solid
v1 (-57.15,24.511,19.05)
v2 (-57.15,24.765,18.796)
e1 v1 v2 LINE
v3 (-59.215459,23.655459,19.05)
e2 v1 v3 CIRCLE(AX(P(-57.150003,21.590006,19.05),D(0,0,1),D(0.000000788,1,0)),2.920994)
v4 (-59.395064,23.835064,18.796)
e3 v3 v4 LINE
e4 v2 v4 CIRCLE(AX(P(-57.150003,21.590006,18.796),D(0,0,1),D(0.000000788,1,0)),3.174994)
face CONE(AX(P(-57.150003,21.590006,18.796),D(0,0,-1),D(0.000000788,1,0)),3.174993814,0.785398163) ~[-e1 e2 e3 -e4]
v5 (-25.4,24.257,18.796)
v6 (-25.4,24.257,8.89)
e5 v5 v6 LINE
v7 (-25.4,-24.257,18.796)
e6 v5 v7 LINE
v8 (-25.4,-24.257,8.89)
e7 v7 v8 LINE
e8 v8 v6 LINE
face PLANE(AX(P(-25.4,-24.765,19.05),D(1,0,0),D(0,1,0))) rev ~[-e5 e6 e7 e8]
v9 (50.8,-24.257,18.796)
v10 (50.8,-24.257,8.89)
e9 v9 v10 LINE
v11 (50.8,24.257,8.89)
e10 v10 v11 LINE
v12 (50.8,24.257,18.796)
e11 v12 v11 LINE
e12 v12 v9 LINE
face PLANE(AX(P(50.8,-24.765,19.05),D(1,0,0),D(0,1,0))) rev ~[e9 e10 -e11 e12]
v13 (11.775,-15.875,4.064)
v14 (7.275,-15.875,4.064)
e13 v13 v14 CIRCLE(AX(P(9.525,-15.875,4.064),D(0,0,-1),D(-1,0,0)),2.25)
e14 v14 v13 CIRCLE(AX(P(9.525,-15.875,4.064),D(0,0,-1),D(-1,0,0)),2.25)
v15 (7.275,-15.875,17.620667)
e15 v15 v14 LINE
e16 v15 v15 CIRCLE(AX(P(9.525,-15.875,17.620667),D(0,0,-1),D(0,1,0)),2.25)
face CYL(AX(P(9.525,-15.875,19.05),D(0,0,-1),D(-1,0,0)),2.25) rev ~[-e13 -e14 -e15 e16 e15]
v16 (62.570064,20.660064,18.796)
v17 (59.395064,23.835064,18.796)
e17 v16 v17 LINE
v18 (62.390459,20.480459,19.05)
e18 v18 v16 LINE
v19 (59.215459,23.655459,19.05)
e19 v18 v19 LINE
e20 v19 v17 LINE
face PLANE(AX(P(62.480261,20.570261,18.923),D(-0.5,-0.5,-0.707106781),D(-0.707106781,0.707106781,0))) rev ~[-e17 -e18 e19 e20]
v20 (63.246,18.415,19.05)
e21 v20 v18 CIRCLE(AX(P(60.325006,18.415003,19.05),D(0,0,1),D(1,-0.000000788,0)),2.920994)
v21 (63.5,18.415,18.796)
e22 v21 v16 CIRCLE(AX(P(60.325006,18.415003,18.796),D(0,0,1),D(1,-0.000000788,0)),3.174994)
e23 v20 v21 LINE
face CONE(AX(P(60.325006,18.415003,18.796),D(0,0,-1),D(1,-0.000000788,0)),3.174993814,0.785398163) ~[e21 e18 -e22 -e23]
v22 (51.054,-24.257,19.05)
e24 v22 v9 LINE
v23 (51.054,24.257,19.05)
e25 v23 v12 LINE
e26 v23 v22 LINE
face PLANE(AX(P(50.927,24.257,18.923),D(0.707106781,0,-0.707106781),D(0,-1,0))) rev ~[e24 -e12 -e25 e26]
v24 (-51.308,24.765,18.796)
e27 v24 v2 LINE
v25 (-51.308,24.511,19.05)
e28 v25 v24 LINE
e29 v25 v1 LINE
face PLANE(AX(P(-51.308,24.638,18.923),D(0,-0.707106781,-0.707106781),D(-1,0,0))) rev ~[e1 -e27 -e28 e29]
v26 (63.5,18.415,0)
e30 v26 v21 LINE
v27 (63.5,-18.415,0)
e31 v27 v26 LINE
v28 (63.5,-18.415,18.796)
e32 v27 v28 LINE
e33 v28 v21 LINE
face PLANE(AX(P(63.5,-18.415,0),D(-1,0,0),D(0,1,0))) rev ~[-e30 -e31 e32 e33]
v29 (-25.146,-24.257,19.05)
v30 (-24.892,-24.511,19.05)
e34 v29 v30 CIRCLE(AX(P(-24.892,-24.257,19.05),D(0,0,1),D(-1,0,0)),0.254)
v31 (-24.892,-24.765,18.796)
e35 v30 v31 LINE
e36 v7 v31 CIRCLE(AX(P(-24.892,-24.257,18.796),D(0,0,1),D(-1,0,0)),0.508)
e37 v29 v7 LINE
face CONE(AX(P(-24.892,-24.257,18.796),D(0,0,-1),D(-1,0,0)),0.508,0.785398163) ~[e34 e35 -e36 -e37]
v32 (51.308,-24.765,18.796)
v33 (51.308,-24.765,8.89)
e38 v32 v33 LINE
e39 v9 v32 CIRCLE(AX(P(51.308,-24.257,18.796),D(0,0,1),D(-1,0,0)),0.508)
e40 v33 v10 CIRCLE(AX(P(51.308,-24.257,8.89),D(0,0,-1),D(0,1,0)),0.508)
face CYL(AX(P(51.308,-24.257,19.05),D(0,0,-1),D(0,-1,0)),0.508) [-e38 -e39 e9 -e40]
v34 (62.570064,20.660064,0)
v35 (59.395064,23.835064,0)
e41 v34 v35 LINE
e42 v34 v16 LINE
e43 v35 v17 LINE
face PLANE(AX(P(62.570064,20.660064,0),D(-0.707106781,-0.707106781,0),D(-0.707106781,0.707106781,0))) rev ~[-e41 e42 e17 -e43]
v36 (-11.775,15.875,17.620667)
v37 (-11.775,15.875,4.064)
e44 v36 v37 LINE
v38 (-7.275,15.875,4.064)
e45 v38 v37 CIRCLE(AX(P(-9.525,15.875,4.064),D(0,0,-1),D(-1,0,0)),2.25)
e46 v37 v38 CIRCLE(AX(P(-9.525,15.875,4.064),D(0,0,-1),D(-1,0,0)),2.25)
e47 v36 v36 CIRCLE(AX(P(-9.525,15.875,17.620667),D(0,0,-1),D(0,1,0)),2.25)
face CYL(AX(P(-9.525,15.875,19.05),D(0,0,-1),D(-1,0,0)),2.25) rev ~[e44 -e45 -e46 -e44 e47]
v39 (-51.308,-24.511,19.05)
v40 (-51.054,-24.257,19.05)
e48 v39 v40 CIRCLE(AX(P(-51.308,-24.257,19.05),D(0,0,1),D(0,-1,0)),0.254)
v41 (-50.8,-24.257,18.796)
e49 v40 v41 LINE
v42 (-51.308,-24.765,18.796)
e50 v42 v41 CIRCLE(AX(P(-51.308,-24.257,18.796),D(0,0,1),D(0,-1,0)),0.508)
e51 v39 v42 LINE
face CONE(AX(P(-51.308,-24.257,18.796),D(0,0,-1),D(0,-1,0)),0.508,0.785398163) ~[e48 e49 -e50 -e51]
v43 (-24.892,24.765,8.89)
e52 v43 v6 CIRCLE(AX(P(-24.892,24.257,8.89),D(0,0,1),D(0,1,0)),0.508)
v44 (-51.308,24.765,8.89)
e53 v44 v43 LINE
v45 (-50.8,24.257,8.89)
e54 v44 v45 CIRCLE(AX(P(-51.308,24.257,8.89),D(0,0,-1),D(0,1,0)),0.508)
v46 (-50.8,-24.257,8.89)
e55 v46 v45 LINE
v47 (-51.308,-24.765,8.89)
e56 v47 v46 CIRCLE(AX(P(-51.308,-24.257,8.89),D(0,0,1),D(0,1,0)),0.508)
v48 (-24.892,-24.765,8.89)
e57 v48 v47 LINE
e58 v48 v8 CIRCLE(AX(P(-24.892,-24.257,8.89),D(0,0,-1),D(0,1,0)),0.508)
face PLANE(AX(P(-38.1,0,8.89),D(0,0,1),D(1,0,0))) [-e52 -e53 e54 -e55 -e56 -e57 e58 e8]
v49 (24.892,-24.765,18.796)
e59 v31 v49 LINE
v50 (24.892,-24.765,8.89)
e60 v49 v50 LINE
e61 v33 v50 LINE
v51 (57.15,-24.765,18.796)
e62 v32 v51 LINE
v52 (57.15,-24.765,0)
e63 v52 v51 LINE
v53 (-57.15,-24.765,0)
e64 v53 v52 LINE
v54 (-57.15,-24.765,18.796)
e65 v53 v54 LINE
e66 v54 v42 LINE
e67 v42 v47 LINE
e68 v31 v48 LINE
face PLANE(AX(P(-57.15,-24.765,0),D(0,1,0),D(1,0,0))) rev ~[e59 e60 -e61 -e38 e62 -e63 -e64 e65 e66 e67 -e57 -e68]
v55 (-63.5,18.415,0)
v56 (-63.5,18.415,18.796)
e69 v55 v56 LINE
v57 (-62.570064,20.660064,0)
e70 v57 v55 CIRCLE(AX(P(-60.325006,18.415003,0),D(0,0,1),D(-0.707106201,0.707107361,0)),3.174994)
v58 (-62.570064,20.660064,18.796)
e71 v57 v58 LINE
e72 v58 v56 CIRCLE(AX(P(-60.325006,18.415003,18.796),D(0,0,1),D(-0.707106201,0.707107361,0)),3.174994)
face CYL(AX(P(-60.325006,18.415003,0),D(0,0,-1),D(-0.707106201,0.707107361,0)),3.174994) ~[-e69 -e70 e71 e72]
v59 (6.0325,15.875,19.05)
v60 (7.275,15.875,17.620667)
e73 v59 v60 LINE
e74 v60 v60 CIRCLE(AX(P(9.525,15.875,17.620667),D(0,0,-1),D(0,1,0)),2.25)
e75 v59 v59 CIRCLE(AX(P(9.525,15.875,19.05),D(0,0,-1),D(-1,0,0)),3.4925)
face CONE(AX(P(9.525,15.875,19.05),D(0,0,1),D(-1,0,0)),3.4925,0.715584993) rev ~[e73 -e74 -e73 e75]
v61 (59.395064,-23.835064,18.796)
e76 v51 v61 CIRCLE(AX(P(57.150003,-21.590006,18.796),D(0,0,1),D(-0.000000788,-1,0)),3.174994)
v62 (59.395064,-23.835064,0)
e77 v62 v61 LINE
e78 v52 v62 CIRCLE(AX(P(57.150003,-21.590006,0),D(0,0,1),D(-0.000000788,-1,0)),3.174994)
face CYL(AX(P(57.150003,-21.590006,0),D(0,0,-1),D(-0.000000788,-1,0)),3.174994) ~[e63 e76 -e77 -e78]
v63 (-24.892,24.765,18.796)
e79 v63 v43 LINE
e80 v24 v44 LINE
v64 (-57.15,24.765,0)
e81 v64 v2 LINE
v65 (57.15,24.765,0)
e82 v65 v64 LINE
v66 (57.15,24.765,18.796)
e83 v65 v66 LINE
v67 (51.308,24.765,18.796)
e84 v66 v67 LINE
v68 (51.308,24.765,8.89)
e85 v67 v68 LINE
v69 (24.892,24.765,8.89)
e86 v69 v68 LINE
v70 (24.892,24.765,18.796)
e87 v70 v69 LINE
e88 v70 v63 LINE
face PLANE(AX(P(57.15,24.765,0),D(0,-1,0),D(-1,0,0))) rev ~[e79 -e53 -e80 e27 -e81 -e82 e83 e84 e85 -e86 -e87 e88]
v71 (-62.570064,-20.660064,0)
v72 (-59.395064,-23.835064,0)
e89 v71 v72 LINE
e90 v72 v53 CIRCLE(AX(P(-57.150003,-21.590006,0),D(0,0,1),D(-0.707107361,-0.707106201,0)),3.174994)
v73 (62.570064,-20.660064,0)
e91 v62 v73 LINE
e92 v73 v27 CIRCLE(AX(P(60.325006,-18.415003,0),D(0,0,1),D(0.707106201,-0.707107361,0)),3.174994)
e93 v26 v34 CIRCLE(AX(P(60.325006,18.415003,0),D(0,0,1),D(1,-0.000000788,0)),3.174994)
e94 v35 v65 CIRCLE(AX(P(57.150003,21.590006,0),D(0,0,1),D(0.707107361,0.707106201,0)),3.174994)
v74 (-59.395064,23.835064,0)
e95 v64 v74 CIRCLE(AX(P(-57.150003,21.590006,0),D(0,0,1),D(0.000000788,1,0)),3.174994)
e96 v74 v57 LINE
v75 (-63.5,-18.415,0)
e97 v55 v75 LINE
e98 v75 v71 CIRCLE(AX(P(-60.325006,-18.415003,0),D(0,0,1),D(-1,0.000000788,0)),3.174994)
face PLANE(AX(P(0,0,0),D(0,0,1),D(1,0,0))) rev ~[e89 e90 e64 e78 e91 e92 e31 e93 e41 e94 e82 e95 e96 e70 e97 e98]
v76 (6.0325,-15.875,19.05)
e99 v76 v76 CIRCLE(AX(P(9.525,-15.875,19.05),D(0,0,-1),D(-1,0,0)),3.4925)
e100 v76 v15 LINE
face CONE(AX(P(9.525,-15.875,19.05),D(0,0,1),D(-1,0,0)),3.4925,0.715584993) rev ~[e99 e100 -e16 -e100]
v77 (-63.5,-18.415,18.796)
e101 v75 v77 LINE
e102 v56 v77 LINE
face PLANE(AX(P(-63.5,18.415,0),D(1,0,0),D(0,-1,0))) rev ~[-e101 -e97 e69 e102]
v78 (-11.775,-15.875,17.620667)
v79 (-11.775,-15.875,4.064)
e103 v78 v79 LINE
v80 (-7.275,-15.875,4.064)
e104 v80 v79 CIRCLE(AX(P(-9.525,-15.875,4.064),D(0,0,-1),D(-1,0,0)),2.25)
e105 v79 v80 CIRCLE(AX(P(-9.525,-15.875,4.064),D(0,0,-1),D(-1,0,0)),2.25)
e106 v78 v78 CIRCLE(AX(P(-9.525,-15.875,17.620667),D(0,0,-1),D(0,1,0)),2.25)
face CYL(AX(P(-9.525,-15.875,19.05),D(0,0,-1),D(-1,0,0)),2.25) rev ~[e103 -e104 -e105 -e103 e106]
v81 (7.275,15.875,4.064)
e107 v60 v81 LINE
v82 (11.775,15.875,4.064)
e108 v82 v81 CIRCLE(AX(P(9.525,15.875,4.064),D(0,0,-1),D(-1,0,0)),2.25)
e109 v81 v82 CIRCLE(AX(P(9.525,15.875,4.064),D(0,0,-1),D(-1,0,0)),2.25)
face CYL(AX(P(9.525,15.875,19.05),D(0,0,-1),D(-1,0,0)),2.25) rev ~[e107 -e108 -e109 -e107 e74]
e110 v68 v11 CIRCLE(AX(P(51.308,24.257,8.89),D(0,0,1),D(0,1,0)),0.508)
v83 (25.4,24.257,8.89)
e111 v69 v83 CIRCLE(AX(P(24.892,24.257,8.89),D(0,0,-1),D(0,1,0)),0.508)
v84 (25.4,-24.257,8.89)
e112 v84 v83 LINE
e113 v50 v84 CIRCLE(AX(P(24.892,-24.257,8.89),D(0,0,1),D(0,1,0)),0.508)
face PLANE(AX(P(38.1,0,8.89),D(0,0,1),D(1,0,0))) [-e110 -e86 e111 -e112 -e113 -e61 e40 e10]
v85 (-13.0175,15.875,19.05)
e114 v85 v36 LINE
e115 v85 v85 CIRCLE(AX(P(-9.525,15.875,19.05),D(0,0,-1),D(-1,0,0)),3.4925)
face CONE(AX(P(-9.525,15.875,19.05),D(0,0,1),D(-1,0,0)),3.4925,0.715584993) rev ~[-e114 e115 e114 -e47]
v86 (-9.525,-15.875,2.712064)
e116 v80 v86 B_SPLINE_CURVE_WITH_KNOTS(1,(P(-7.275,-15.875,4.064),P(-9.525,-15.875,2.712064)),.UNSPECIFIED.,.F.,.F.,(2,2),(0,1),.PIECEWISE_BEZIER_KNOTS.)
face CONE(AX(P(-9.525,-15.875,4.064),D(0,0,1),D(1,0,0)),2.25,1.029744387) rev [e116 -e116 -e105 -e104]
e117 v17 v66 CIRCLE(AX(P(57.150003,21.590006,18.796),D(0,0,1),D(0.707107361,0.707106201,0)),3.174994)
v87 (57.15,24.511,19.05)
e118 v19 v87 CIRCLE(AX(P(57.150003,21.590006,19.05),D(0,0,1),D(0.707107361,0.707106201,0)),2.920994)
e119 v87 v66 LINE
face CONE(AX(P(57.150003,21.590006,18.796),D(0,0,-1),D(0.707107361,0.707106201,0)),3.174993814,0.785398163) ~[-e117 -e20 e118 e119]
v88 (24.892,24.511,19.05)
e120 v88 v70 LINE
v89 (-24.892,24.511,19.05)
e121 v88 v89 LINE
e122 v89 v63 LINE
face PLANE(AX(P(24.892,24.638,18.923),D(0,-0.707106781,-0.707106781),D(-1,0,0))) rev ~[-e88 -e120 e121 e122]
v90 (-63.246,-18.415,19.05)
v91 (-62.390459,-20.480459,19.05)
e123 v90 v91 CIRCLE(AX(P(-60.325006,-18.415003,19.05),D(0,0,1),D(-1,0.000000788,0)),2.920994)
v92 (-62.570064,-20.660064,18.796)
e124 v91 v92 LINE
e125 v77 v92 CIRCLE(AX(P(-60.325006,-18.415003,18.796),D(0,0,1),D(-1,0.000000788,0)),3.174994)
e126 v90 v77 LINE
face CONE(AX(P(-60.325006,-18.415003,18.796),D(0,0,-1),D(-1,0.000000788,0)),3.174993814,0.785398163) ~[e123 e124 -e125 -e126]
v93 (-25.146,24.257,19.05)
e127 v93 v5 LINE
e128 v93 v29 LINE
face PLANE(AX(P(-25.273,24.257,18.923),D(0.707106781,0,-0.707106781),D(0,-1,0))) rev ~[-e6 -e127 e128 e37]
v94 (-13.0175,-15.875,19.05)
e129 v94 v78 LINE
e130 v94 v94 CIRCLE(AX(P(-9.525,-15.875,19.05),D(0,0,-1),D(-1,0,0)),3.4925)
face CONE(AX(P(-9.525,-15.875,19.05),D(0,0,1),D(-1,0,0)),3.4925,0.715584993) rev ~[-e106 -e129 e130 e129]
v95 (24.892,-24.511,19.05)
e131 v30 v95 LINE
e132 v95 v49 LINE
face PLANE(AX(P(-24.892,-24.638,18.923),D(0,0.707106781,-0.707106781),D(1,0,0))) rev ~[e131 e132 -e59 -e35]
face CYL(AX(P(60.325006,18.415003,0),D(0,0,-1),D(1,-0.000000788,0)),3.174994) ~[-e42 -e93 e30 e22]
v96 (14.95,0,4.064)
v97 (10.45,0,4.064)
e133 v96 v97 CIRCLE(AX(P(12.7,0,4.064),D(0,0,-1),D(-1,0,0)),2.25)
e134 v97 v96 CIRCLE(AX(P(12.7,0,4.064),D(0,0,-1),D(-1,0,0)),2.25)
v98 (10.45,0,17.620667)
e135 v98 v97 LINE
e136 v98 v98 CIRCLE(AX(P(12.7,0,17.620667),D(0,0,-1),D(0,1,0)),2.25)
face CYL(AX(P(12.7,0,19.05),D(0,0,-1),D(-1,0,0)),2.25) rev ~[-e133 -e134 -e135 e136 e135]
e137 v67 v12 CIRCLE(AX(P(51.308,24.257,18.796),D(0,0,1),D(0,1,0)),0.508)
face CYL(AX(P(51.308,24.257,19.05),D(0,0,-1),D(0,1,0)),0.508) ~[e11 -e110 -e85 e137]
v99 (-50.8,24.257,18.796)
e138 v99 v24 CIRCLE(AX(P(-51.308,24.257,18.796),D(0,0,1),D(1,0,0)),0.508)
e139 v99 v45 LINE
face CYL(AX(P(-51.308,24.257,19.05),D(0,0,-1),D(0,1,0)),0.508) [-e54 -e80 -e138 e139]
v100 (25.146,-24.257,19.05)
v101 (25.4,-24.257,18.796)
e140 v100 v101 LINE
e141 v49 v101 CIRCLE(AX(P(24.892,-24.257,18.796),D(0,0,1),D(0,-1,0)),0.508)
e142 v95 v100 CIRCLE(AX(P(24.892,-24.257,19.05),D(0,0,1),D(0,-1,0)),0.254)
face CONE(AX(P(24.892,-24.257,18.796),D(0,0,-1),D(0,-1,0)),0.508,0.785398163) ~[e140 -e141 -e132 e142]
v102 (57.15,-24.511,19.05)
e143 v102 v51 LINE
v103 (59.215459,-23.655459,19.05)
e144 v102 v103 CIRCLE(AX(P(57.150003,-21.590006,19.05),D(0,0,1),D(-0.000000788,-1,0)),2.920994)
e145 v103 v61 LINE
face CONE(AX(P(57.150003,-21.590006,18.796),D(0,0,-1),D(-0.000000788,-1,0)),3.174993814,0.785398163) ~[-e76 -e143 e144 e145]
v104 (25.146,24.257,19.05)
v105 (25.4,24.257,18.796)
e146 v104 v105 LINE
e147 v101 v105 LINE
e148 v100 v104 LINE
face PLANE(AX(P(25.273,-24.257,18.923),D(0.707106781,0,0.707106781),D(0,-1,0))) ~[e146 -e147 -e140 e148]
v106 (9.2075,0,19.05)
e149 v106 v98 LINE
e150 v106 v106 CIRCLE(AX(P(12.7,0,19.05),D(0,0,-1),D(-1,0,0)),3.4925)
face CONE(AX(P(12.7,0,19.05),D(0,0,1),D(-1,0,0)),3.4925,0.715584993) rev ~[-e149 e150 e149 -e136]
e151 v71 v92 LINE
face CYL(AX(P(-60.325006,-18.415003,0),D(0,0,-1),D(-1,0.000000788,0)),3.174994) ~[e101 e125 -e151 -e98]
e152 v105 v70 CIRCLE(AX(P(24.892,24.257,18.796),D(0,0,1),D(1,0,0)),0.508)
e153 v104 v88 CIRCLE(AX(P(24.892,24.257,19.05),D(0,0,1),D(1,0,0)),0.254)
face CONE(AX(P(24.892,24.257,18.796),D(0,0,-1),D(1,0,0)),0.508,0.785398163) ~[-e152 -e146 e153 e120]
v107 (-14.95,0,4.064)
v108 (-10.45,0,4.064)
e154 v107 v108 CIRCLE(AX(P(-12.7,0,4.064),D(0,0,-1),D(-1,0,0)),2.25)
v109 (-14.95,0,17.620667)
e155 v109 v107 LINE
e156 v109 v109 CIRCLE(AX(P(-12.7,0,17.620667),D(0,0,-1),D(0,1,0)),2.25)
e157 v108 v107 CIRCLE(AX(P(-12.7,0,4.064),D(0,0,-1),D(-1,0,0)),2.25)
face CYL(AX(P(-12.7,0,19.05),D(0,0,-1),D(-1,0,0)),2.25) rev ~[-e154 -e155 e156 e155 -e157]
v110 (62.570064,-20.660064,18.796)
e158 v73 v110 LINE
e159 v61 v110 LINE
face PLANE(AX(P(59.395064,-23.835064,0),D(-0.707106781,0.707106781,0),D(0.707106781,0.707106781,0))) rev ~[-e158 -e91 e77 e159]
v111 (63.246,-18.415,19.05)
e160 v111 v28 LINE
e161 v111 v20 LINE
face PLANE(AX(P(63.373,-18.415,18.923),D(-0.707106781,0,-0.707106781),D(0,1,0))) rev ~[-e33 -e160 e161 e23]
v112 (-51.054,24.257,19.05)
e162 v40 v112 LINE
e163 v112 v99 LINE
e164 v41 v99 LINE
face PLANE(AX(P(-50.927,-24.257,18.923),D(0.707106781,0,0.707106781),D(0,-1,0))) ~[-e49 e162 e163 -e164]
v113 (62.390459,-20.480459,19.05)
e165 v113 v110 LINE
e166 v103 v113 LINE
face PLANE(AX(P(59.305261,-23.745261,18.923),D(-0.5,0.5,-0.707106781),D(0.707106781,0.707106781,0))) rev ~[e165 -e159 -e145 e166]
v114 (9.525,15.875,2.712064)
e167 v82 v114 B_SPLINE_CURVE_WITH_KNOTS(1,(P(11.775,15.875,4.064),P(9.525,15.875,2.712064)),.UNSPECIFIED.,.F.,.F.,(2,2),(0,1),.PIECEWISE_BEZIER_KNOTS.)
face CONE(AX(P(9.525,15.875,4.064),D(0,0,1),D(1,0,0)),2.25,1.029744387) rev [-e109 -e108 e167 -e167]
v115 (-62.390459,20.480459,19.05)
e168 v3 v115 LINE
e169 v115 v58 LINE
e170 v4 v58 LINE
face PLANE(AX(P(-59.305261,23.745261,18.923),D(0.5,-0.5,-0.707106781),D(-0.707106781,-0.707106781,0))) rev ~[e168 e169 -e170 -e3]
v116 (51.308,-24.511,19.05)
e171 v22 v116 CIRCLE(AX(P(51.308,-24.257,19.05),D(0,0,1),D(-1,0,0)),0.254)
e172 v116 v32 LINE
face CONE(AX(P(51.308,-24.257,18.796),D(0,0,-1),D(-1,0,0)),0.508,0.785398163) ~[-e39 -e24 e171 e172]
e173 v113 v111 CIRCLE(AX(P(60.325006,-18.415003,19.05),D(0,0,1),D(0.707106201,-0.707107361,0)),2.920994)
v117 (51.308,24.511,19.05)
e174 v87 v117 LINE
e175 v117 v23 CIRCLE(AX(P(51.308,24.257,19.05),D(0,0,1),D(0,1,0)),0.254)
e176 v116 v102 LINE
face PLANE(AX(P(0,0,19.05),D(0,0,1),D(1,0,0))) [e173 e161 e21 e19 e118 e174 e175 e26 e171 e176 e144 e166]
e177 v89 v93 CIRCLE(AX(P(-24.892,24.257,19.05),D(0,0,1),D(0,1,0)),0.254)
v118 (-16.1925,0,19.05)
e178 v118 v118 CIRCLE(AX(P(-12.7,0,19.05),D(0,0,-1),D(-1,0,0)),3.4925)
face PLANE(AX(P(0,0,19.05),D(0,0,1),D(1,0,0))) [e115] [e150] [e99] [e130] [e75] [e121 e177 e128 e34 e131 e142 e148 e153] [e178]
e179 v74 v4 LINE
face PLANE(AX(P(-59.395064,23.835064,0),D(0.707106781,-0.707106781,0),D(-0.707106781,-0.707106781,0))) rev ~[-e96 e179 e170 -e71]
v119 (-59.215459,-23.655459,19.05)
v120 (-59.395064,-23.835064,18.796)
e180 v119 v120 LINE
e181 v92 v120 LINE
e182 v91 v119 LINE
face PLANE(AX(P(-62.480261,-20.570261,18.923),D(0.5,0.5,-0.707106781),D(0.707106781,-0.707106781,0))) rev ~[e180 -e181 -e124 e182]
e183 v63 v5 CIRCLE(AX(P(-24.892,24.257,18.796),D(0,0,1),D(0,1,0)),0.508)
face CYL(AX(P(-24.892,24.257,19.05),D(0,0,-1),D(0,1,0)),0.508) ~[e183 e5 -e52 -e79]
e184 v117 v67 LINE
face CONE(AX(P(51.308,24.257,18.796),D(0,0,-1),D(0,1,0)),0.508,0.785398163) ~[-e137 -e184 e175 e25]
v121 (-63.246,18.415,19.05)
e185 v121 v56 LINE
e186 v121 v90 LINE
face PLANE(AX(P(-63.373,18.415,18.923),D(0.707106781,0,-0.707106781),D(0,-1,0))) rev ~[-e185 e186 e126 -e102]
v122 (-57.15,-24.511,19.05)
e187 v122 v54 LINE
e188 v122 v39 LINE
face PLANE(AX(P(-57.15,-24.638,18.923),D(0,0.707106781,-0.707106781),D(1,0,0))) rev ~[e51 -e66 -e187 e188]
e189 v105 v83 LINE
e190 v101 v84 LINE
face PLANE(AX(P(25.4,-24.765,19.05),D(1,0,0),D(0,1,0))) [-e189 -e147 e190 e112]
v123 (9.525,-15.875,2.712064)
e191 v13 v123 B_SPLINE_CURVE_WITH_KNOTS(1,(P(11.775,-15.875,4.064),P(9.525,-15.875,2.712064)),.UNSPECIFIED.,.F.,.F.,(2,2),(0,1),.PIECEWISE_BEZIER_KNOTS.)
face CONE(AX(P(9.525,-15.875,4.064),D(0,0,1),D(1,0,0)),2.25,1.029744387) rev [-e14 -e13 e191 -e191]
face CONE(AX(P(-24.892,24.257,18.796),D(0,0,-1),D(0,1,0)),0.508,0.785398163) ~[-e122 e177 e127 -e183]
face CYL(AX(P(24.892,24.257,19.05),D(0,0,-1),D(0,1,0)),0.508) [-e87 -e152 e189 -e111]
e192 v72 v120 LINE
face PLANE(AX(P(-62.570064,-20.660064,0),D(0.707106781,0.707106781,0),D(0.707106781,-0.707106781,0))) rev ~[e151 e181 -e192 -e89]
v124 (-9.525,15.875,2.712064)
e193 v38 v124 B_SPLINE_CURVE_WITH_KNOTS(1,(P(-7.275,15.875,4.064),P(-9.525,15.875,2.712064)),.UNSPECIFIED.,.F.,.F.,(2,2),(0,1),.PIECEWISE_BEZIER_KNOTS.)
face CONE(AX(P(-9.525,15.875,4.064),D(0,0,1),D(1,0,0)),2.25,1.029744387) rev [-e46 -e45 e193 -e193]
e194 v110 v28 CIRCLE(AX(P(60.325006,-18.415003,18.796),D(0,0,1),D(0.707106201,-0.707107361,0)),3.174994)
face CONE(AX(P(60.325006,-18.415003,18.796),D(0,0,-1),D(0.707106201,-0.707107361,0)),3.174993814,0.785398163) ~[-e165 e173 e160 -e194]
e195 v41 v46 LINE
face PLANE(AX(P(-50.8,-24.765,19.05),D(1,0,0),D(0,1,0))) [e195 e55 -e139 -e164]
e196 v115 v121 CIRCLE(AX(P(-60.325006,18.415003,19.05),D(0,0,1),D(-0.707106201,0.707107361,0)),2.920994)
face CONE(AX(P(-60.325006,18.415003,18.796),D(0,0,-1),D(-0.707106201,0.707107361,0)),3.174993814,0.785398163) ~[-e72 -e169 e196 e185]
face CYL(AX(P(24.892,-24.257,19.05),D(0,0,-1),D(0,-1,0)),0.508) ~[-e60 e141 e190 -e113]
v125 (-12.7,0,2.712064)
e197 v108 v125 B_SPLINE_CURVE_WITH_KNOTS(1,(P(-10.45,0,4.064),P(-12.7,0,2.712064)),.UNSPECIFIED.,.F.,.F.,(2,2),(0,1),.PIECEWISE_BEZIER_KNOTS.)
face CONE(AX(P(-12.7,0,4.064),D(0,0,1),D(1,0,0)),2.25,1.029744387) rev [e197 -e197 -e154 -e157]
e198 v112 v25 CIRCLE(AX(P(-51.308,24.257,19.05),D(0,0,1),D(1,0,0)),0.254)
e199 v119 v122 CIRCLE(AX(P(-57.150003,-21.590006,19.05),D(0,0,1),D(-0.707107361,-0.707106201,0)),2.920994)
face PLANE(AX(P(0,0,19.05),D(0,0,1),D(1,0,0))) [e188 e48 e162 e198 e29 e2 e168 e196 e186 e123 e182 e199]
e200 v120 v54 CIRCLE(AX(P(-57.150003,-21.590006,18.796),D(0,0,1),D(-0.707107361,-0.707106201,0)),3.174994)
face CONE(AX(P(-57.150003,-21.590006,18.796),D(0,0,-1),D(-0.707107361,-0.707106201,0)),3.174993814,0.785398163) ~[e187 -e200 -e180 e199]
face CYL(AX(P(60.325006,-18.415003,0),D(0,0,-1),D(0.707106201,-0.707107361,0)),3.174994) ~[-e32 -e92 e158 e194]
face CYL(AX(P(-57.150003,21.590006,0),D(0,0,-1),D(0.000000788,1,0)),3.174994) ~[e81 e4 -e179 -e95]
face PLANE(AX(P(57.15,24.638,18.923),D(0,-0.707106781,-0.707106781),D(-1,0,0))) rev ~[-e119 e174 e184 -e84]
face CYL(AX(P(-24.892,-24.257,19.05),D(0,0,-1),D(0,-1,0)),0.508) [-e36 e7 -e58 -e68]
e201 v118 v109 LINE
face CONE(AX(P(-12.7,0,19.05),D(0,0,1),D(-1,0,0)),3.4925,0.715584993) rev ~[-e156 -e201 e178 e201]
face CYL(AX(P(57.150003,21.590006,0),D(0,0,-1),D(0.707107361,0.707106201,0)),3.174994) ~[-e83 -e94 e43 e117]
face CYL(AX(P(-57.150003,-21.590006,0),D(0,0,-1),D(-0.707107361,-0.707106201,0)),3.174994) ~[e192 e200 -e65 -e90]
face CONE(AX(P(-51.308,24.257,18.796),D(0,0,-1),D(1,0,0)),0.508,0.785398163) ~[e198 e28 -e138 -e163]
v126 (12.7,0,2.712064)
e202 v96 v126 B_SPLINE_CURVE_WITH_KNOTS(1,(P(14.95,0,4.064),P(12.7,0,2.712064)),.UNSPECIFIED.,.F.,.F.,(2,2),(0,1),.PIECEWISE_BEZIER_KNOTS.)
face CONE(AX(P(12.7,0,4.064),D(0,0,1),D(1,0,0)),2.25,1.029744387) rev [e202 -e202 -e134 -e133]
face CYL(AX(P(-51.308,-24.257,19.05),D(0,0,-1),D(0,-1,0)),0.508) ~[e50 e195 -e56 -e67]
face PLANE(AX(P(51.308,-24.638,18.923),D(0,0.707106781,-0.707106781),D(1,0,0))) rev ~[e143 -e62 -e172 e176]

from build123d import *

# Parameters (mm, degrees)
PAD_DEPTH        = 19.05
HOLE_D           = 4.5
HOLE_DEPTH       = 14.986
HOLE_CSINK_D     = 6.985
HOLE_CSINK_ANGLE = 82
HOLE_TIPS_R      = 2.25
SKETCH002_W      = 25.4
SKETCH002_H      = 49.53
POCKET_DEPTH     = 10.16
FILLET_R         = 0.508
CHAMFER_SIZE     = 0.254


with BuildPart() as part:
    # Sketch → Pad (new body)
    with BuildSketch(Plane.XY):
        with BuildLine():
            Line((-62.570064, -20.660064), (-59.395064, -23.835064))
            ThreePointArc((-59.395064, -23.835064), (-58.36502, -24.523318), (-57.15, -24.765))
            Line((-57.15, -24.765), (57.15, -24.765))
            ThreePointArc((57.15, -24.765), (58.36502, -24.523318), (59.395064, -23.835064))
            Line((59.395064, -23.835064), (62.570064, -20.660064))
            ThreePointArc((62.570064, -20.660064), (63.258318, -19.63002), (63.5, -18.415))
            Line((63.5, -18.415), (63.5, 18.415))
            ThreePointArc((63.5, 18.415), (63.258318, 19.63002), (62.570064, 20.660064))
            Line((62.570064, 20.660064), (59.395064, 23.835064))
            ThreePointArc((59.395064, 23.835064), (58.36502, 24.523318), (57.15, 24.765))
            Line((57.15, 24.765), (-57.15, 24.765))
            ThreePointArc((-57.15, 24.765), (-58.36502, 24.523318), (-59.395064, 23.835064))
            Line((-59.395064, 23.835064), (-62.570064, 20.660064))
            ThreePointArc((-62.570064, 20.660064), (-63.258318, 19.63002), (-63.5, 18.415))
            Line((-63.5, 18.415), (-63.5, -18.415))
            ThreePointArc((-63.5, -18.415), (-63.258318, -19.63002), (-62.570064, -20.660064))
        make_face()
    extrude(amount=PAD_DEPTH)

    # Hole
    with Locations(Plane.XY.offset(19.05)):
        with Locations((-9.525, 15.875), (9.525, 15.875), (12.7, 0), (-12.7, 0), (-9.525, -15.875), (9.525, -15.875)):
            CounterSinkHole(HOLE_D / 2, HOLE_CSINK_D / 2, depth=HOLE_DEPTH, counter_sink_angle=HOLE_CSINK_ANGLE)

    # Hole tips → Hole tip 1 section 0
    with BuildSketch(Plane.XY.offset(4.064), mode=Mode.PRIVATE) as hole_tip_1_s0:
        with Locations((-9.525, 15.875)):
            Circle(HOLE_TIPS_R)
    loft([hole_tip_1_s0.sketch, Vertex(-9.525, 15.875, 2.712064)], mode=Mode.SUBTRACT)

    # Hole tips → Hole tip 2 section 0
    with BuildSketch(Plane.XY.offset(4.064), mode=Mode.PRIVATE) as hole_tip_2_s0:
        with Locations((9.525, 15.875)):
            Circle(HOLE_TIPS_R)
    loft([hole_tip_2_s0.sketch, Vertex(9.525, 15.875, 2.712064)], mode=Mode.SUBTRACT)

    # Hole tips → Hole tip 3 section 0
    with BuildSketch(Plane.XY.offset(4.064), mode=Mode.PRIVATE) as hole_tip_3_s0:
        with Locations((12.7, 0)):
            Circle(HOLE_TIPS_R)
    loft([hole_tip_3_s0.sketch, Vertex(12.7, 0, 2.712064)], mode=Mode.SUBTRACT)

    # Hole tips → Hole tip 4 section 0
    with BuildSketch(Plane.XY.offset(4.064), mode=Mode.PRIVATE) as hole_tip_4_s0:
        with Locations((-12.7, 0)):
            Circle(HOLE_TIPS_R)
    loft([hole_tip_4_s0.sketch, Vertex(-12.7, 0, 2.712064)], mode=Mode.SUBTRACT)

    # Hole tips → Hole tip 5 section 0
    with BuildSketch(Plane.XY.offset(4.064), mode=Mode.PRIVATE) as hole_tip_5_s0:
        with Locations((-9.525, -15.875)):
            Circle(HOLE_TIPS_R)
    loft([hole_tip_5_s0.sketch, Vertex(-9.525, -15.875, 2.712064)], mode=Mode.SUBTRACT)

    # Hole tips → Hole tip 6 section 0
    with BuildSketch(Plane.XY.offset(4.064), mode=Mode.PRIVATE) as hole_tip_6_s0:
        with Locations((9.525, -15.875)):
            Circle(HOLE_TIPS_R)
    loft([hole_tip_6_s0.sketch, Vertex(9.525, -15.875, 2.712064)], mode=Mode.SUBTRACT)

    # Sketch002 (on Face5 of Hole) → Pocket (cut)
    with BuildSketch(Plane.XY.offset(19.05)):
        with Locations((-38.1, 0)):
            Rectangle(SKETCH002_W, SKETCH002_H)
        with Locations((38.1, 0)):
            Rectangle(SKETCH002_W, SKETCH002_H)
    extrude(amount=-POCKET_DEPTH, mode=Mode.SUBTRACT)

    # Fillet
    fillet_edges = [part.edges().sort_by_distance(p)[0] for p in [
        (-50.8, -24.765, 13.97),
        (-50.8, 24.765, 13.97),
        (-25.4, -24.765, 13.97),
        (25.4, -24.765, 13.97),
        (50.8, -24.765, 13.97),
        (50.8, 24.765, 13.97),
        (25.4, 24.765, 13.97),
        (-25.4, 24.765, 13.97),
    ]]
    fillet(fillet_edges, radius=FILLET_R)

    # Chamfer
    chamfer_edges = [part.edges().sort_by_distance(p)[0] for p in [
        (54.229, 24.765, 19.05),
        (0, 24.765, 19.05),
        (-54.229, 24.765, 19.05),
    ]]
    chamfer(chamfer_edges, length=CHAMFER_SIZE)


solid = part.part
